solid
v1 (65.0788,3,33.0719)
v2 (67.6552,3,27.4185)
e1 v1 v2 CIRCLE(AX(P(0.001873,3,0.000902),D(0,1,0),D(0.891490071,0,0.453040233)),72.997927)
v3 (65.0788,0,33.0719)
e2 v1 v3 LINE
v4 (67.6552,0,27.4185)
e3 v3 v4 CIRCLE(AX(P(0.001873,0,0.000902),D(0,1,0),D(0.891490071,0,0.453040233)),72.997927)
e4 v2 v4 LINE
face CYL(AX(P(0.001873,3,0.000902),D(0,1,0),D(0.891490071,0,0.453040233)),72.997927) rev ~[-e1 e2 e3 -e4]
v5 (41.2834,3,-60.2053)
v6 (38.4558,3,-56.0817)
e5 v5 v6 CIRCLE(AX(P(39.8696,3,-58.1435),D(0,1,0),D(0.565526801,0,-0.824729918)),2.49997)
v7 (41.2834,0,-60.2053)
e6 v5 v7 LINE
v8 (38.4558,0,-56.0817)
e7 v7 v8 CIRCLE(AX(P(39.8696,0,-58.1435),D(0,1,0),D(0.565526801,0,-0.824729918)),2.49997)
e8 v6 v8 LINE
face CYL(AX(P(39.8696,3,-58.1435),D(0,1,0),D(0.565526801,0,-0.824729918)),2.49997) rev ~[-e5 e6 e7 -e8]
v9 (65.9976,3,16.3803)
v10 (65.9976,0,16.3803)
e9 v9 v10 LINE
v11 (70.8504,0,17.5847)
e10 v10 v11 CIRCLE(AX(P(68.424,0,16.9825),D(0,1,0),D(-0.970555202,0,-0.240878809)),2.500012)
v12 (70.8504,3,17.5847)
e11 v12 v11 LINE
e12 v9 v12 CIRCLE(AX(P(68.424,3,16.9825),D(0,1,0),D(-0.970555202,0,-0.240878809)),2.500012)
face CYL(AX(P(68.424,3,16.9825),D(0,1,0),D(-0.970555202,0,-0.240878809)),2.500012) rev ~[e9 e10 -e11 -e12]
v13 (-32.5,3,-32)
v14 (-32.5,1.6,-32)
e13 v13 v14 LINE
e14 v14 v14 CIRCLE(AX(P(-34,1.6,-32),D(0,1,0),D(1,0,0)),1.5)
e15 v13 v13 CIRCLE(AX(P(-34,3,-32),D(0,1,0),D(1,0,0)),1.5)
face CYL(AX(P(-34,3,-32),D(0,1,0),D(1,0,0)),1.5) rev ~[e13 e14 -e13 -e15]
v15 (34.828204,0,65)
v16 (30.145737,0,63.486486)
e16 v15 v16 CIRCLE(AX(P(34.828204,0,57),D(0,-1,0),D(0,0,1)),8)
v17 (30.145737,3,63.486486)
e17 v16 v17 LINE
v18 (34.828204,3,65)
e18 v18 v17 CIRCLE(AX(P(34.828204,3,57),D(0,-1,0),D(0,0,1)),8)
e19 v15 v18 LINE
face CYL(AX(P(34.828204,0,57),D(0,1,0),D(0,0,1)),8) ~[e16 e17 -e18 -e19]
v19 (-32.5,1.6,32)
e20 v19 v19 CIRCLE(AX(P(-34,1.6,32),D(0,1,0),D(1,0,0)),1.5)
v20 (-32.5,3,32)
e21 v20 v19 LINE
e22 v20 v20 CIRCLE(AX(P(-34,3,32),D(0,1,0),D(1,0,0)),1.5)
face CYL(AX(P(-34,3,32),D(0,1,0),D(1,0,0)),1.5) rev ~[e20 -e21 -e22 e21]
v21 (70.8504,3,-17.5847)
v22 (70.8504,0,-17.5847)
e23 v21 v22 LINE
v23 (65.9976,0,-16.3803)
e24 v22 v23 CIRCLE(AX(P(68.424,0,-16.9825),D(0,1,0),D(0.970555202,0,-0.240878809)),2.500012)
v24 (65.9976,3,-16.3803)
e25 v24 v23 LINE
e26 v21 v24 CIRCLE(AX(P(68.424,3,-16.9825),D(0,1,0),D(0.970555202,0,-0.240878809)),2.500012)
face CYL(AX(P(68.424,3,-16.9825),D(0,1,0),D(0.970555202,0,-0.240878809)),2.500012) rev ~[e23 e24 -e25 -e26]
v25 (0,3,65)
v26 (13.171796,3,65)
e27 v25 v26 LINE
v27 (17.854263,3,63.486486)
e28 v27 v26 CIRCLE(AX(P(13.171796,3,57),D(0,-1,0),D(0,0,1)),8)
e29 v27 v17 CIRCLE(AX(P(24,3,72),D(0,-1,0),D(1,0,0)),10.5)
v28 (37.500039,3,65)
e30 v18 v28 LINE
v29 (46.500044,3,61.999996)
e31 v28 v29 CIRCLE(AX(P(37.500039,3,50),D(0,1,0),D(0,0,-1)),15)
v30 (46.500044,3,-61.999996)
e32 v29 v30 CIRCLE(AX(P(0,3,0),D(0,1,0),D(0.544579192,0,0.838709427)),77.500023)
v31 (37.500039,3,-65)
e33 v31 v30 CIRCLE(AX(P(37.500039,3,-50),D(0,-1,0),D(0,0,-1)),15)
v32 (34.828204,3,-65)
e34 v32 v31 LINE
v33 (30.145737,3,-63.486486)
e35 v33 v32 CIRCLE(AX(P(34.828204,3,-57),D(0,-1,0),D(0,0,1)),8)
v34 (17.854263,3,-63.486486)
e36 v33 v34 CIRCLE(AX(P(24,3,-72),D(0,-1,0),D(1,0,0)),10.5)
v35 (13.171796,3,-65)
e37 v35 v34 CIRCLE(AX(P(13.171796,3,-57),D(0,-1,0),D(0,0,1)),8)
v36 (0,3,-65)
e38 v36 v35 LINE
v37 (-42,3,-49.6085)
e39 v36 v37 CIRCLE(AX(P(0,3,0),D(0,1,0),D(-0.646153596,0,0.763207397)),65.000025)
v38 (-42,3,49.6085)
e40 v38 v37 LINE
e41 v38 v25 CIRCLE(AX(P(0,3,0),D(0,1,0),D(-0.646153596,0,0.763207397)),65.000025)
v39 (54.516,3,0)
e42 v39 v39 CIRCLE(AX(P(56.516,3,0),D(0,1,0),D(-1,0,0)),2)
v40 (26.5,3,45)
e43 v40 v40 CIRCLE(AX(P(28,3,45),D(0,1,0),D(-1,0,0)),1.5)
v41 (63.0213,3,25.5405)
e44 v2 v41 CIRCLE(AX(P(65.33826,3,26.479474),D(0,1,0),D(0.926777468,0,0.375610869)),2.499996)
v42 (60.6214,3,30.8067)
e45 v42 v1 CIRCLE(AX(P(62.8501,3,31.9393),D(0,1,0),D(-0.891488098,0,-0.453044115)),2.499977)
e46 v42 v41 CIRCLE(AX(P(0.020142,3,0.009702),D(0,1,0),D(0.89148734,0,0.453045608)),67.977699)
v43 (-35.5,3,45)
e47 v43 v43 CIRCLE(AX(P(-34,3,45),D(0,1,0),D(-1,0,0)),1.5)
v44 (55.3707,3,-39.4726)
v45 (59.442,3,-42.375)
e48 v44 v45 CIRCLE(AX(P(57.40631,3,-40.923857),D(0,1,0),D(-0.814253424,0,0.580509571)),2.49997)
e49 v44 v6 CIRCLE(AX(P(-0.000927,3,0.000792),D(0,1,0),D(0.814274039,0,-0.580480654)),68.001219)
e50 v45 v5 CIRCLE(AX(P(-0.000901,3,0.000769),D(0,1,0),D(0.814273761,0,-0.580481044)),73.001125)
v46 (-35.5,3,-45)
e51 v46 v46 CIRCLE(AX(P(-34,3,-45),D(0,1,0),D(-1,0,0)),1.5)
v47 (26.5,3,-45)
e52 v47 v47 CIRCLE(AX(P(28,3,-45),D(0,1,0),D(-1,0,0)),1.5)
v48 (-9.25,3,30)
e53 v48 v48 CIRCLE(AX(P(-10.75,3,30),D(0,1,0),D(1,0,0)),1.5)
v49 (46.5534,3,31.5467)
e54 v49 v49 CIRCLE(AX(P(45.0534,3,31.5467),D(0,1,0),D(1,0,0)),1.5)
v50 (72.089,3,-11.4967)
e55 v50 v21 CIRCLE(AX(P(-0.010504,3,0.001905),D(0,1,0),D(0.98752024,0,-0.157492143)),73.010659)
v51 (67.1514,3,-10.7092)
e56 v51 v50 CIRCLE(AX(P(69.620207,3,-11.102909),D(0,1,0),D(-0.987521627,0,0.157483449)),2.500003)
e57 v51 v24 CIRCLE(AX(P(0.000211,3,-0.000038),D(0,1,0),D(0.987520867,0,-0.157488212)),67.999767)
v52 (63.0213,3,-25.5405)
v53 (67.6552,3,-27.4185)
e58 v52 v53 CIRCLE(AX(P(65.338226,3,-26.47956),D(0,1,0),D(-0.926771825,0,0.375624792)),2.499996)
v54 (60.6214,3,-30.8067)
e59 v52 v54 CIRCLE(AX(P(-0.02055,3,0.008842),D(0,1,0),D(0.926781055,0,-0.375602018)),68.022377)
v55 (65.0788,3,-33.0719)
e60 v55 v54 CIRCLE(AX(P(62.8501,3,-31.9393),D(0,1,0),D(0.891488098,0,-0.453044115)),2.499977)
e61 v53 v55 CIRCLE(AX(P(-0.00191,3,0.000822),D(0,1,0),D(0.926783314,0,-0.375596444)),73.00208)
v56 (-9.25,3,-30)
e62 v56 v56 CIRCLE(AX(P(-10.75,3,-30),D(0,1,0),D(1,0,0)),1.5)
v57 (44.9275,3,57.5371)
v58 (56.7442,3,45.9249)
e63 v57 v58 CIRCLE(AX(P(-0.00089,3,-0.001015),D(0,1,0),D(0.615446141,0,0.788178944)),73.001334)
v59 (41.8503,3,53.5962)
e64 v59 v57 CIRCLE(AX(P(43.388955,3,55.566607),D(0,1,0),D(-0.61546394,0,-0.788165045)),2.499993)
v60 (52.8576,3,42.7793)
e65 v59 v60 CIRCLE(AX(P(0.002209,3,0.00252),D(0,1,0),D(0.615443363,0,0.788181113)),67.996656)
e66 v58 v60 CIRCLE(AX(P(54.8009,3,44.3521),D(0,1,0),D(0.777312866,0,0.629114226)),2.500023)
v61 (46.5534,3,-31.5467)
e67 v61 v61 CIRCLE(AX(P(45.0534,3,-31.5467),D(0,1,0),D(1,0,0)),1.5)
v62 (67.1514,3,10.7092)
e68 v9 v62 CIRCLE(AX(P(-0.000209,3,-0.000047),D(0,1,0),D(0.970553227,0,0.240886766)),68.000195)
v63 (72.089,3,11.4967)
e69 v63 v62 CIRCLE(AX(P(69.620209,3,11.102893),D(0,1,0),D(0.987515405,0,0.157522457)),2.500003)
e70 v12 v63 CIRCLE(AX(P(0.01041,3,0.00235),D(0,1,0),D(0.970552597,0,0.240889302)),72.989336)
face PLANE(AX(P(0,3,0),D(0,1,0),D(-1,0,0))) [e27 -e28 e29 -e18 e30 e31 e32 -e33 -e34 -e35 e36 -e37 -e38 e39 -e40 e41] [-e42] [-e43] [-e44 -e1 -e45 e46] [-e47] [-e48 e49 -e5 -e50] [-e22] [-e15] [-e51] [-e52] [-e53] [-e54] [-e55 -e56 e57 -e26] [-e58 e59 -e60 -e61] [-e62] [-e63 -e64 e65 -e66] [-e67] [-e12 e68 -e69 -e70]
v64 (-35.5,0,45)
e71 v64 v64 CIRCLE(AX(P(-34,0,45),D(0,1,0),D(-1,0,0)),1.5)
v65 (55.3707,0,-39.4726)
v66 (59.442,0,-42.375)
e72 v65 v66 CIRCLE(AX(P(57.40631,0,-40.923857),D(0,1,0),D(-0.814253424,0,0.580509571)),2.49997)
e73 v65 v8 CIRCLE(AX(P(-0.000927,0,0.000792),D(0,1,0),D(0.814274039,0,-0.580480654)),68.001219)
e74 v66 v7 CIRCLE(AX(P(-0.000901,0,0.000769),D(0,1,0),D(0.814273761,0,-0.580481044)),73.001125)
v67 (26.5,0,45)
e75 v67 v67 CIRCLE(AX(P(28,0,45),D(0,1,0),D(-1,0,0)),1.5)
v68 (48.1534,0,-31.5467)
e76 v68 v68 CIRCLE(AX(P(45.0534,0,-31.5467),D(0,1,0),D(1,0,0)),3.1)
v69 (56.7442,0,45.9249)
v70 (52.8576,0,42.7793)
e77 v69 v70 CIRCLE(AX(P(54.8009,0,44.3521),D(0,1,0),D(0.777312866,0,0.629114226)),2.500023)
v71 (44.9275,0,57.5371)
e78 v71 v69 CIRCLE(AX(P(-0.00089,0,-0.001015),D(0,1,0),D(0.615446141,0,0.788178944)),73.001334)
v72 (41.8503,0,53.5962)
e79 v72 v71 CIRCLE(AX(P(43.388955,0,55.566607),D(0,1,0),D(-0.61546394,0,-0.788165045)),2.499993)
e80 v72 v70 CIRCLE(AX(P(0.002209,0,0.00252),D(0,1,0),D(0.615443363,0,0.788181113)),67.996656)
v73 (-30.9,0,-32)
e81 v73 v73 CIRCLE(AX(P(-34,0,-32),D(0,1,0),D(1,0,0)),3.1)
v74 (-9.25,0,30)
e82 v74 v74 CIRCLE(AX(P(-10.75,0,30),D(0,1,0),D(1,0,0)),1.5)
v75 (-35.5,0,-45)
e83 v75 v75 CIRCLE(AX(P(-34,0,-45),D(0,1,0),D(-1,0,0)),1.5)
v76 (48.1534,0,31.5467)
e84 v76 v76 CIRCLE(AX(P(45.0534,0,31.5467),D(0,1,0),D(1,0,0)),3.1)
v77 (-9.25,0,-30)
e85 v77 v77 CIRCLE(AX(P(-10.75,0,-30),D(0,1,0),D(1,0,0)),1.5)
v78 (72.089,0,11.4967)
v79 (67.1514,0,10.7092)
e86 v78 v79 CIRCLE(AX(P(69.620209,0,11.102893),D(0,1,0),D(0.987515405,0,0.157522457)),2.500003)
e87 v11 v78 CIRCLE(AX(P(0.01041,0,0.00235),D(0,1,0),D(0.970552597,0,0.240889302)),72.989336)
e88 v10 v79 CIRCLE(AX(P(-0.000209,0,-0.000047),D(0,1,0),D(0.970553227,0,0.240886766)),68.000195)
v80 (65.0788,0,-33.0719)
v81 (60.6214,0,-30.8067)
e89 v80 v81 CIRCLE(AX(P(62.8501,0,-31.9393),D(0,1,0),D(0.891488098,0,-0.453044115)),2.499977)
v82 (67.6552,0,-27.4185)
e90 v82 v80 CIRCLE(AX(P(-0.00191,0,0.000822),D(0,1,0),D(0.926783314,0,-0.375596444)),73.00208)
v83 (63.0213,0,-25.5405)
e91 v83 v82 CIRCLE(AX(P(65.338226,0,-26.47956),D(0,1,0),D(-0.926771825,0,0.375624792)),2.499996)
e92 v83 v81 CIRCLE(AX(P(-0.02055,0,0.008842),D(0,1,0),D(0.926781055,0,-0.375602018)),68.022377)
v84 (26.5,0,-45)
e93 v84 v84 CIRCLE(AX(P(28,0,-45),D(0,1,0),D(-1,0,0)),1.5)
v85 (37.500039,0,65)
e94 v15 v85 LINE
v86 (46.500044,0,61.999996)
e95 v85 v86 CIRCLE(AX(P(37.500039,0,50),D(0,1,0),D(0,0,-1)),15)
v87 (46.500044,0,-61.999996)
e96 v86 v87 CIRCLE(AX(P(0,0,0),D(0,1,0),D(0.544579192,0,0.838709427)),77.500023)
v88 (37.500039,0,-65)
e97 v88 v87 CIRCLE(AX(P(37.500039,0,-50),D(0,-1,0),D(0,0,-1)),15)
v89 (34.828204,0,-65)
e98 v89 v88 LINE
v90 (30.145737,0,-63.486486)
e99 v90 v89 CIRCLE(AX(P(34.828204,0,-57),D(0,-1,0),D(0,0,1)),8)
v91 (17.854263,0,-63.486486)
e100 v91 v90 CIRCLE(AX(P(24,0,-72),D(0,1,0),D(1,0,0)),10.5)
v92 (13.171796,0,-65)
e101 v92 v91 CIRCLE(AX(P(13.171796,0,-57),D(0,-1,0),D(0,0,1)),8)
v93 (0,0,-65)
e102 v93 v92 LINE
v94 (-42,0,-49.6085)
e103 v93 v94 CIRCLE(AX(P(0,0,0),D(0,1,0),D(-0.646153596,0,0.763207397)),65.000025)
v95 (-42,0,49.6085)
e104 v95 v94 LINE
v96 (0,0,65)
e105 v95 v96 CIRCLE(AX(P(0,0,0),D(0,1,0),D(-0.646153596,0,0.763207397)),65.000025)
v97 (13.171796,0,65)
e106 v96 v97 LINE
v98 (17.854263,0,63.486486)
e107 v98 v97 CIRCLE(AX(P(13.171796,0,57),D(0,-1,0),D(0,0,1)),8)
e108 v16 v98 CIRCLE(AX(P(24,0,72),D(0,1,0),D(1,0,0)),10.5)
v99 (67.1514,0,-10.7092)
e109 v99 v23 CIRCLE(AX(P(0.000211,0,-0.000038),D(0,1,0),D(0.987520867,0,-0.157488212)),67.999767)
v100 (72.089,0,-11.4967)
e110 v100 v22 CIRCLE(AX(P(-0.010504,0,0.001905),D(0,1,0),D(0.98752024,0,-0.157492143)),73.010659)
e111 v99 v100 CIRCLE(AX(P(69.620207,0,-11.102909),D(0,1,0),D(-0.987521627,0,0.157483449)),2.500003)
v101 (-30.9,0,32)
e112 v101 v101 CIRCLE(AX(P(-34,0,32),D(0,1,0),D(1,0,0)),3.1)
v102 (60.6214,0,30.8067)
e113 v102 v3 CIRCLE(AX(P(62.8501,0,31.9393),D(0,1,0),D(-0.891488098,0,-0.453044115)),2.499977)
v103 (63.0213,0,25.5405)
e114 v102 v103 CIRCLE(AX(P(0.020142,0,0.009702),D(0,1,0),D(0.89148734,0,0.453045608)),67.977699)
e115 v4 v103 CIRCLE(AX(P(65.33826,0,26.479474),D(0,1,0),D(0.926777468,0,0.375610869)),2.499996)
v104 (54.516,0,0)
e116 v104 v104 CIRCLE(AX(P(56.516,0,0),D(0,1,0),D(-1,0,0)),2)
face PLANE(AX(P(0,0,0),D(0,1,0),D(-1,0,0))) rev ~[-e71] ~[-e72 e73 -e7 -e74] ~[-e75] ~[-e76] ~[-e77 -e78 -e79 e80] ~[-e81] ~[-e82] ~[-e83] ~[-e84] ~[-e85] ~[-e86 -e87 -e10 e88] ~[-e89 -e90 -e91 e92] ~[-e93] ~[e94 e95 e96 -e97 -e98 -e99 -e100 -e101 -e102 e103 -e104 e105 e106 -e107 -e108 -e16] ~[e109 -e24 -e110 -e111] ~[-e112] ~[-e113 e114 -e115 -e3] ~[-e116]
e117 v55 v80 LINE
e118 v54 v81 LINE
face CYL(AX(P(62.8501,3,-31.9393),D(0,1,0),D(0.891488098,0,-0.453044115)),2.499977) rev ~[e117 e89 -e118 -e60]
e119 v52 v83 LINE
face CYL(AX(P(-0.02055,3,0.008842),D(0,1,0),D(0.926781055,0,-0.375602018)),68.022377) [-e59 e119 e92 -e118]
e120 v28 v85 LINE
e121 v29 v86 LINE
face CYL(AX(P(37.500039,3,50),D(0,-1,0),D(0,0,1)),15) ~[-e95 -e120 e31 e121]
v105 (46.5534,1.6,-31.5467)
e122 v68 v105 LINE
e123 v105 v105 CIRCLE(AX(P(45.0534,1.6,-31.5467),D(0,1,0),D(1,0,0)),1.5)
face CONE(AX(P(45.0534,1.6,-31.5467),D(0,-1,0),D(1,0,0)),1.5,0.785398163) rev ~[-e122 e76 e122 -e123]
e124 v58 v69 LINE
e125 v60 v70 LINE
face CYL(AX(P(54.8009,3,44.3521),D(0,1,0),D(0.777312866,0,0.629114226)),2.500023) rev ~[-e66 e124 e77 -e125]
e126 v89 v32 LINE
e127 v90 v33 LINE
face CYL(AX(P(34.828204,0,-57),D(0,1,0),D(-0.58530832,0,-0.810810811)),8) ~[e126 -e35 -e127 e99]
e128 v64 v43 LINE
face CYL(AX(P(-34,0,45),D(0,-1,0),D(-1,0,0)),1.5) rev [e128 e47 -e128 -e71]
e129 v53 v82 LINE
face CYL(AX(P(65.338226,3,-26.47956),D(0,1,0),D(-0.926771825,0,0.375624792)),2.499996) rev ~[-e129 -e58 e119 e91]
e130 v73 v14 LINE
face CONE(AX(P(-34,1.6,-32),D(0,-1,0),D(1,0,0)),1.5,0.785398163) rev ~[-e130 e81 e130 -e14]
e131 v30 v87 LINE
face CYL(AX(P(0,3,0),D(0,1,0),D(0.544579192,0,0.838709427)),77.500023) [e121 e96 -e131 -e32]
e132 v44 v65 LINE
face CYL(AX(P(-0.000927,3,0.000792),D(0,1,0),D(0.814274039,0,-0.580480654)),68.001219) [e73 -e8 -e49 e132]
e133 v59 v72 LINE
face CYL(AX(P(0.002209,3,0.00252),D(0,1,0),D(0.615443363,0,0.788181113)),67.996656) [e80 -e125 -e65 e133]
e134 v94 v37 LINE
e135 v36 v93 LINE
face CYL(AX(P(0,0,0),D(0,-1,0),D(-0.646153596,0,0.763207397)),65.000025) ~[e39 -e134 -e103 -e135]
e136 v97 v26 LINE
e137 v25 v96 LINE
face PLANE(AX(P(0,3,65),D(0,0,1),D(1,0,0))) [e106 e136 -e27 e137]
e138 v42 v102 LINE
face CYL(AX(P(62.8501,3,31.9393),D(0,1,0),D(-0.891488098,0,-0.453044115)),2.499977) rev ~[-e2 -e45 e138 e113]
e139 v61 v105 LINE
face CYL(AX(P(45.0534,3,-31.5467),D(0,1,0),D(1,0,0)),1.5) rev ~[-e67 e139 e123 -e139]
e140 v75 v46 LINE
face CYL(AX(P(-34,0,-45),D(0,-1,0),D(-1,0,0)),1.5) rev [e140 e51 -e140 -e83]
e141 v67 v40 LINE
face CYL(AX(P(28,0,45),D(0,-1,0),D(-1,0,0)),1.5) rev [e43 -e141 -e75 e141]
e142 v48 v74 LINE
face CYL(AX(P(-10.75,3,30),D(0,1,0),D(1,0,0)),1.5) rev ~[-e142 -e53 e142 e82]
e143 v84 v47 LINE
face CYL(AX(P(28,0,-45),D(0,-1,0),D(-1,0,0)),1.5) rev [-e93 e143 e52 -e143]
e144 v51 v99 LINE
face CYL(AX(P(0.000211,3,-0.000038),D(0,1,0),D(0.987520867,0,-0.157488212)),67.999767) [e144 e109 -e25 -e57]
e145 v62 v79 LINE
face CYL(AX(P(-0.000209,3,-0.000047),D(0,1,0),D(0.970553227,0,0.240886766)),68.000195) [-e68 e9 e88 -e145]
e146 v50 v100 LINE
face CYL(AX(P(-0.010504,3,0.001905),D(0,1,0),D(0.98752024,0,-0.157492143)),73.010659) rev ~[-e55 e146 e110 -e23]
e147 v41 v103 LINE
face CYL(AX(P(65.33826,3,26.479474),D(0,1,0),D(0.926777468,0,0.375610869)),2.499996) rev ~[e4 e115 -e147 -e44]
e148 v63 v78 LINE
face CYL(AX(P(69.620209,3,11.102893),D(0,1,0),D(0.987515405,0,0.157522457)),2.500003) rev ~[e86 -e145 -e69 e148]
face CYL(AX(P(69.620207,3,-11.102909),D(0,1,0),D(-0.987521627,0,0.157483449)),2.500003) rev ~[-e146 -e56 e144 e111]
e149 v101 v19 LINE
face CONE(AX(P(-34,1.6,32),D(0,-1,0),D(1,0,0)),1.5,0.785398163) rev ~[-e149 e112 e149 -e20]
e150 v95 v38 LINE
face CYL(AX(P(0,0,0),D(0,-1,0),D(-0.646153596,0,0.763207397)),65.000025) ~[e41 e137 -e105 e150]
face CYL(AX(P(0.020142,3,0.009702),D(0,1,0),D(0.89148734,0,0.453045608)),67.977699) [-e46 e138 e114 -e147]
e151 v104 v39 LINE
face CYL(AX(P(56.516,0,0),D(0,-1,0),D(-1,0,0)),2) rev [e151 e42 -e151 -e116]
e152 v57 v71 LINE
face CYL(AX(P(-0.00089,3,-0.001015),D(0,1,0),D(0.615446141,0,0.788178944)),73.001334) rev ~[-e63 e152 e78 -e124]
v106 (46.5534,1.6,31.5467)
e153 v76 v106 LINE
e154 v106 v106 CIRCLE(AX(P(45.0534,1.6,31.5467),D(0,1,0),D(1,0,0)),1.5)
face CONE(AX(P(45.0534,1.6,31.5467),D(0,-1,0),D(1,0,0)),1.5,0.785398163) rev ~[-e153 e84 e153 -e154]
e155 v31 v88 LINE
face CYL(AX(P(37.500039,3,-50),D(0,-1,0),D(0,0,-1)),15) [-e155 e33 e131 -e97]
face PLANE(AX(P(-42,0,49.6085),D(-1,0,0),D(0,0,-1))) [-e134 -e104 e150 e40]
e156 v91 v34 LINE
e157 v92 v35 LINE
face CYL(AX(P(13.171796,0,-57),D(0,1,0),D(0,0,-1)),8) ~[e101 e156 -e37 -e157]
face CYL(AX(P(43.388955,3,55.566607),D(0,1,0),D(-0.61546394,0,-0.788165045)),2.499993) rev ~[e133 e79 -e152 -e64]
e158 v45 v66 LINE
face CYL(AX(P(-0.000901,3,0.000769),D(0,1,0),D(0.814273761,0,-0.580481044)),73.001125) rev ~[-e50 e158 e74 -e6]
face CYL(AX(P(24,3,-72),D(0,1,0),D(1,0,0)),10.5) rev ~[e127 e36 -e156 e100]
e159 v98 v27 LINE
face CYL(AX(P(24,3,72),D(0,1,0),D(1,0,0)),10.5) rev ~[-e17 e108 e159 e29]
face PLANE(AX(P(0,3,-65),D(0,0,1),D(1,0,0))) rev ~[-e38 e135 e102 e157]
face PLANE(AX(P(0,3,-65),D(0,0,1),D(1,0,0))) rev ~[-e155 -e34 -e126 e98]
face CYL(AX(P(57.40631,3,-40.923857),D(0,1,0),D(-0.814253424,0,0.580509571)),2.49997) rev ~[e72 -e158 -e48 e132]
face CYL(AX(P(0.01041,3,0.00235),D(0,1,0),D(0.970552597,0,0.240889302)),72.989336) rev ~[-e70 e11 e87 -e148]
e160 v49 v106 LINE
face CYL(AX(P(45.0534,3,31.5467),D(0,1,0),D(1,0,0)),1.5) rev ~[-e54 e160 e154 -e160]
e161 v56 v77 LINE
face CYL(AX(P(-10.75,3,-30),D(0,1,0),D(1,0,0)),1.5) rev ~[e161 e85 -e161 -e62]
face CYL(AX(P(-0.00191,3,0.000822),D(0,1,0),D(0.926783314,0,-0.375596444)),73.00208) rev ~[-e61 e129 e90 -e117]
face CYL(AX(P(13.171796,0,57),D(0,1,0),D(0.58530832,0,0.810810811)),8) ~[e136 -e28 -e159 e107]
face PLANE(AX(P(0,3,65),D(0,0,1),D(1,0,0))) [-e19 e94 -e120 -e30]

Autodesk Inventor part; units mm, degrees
ref_plane "YZ Plane" through (0, 0, 0) normal (1, 0, 0) x (0, 1, 0)
ref_plane "XZ Plane" through (0, 0, 0) normal (0, 1, 0) x (-1, 0, 0)
ref_plane "XY Plane" through (0, 0, 0) normal (0, 0, 1) x (1, 0, 0)
sketch "Эскиз1" plane through (0, 0, 0) normal (0, 1, 0) x (-1, 0, 0)
  arc A0 (42, 49.6085) -> (42, -49.6085) centre (0, 0) ccw
  line L0 (42, 49.6085) -> (42, -49.6085)
  arc A1 (42, -49.6085) -> (42, 49.6085) centre (0, 0) ccw construction
  line L1 (34, 55.3986) -> (34, -55.3986) construction
  circle A2 centre (34, 45) radius 1.5
  circle A3 centre (34, -45) radius 1.5
  line L2 (-28, 58.66) -> (-28, -58.66) construction
  line L3 (0, 0) -> (-28, -55) construction
  line L4 (0, 0) -> (-56.516, 0) construction
  circle A4 centre (-56.516, 0) radius 2
  circle A5 centre (-28, 45) radius 1.5
  circle A6 centre (-28, -45) radius 1.5
  dimension "d0" = 130
  dimension "d1" = 42
  dimension "d4" = 8
  dimension "d5" = 3
  dimension "d6" = 3
  dimension "d7" = 45
  dimension "d8" = 45
  dimension "d9" = 70
  dimension "d12" = 55
  dimension "d16" = 61.7171
  dimension "d18" = 4
  dimension "d20" = 3
  dimension "d21" = 45
  dimension "d22" = 3
  dimension "d38" = 56.516
extrude "Выдавливание1" add sketch "Эскиз1" along normal blind 3
sketch "Эскиз2" plane through (0, 3, 0) normal (0, 1, 0) x (1, 0, 0)
  circle A0 centre (-34, -45) radius 1.5 projected
  circle A1 centre (-34, 45) radius 1.5 projected
  line L0 (-34, -45) -> (-34, 45) construction
  circle A2 centre (0, 0) radius 55 construction
  line L1 (0, 0) -> (0, -55) construction
  line L2 (0, 0) -> (45.0534, -31.5467) construction
  circle A3 centre (45.0534, -31.5467) radius 1.5
  circle A4 centre (56.516, 0) radius 2 projected
  line L3 (0, 0) -> (56.516, 0) construction
  circle A5 centre (45.0534, 31.5467) radius 1.5
  circle A6 centre (-34, -32) radius 1.5
  circle A7 centre (-34, 32) radius 1.5
  line L4 (-42, 49.6085) -> (-42, -49.6085) projected
  point P0 (-42, 0)
  point P1 (-34, 0)
  dimension "d25" = 110
  dimension "d26" = 55
  dimension "d28" = 3
  dimension "d34" = 3
  dimension "d35" = 3
  dimension "d36" = 32
  dimension "d37" = 32
extrude "Выдавливание2" cut sketch "Эскиз2" against normal blind 10 contours A3 | A5 | A6 | A7
chamfer "Фаска1" distance 1.6 angle 45 4 edges at (43.5534, 0, 31.5467) (43.5534, 0, -31.5467) (-35.5, 0, -32) (-35.5, 0, 32)
sketch "Эскиз3" plane through (0, 3, 0) normal (0, 1, 0) x (1, 0, 0)
  circle A0 centre (-34, -45) radius 1.5 projected
  circle A1 centre (-34, 45) radius 1.5 projected
  line L0 (-34, -45) -> (-34, 45) construction
  line L1 (-34, 45) -> (12.5, 45) construction
  line L2 (-10.75, 45) -> (-10.75, -55.9117) construction
  circle A2 centre (-10.75, -30) radius 1.5
  circle A3 centre (-10.75, 30) radius 1.5
  point P0 (0, 0)
  dimension "d39" = 46.5
  dimension "d40" = 3
  dimension "d41" = 3
  dimension "d42" = 30
  dimension "d43" = 30
extrude "Выдавливание3" cut sketch "Эскиз3" against normal blind 10 contours A2 | A3
sketch "Эскиз4" plane through (0, 3, 0) normal (0, 1, 0) x (1, 0, 0)
  arc A0 (42.2049, -65) -> (42.2049, 65) centre (0, 0) ccw
  arc A1 (-42, -49.6085) -> (-42, 49.6085) centre (0, 0) ccw projected
  line L0 (0, -65) -> (42.2049, -65)
  line L1 (0, 65) -> (42.2049, 65)
  arc A2 (42.2049, 65) -> (42.2049, -65) centre (0, 0) ccw construction
  line L2 (0, 0) -> (65, 0) construction
  line L3 (0, 0) -> (75.9442, -15.451) construction
  line L4 (0, 0) -> (70.522, -32.1387) construction
  line L5 (0, 0) -> (54.3205, -55.2769) construction
  line L6 (0, 0) -> (57.5937, 51.8576) construction
  line L7 (0, 0) -> (41.0687, 65.7237) construction
  circle A3 centre (0, 0) radius 70.5 construction
  arc A4 (43.3889, -55.5666) -> (54.8009, -44.3521) centre (0, 0) ccw construction
  arc A5 (44.9275, -57.5371) -> (56.7442, -45.9249) centre (0, 0) ccw
  arc A6 (41.8503, -53.5962) -> (52.8576, -42.7793) centre (0, 0) ccw
  arc A7 (41.8503, -53.5962) -> (44.9275, -57.5371) centre (43.3889, -55.5666) ccw
  arc A8 (56.7442, -45.9249) -> (52.8576, -42.7793) centre (54.8009, -44.3521) ccw
  arc A9 (62.8501, -31.9393) -> (65.3382, -26.4795) centre (0, 0) ccw construction
  arc A10 (65.0788, -33.0719) -> (67.6552, -27.4185) centre (0, 0) ccw
  arc A11 (60.6214, -30.8067) -> (63.0213, -25.5405) centre (0, 0) ccw
  arc A12 (60.6214, -30.8067) -> (65.0788, -33.0719) centre (62.8501, -31.9393) ccw
  arc A13 (67.6552, -27.4185) -> (63.0213, -25.5405) centre (65.3382, -26.4795) ccw
  arc A14 (68.424, -16.9825) -> (69.6202, -11.1029) centre (0, 0) ccw construction
  arc A15 (70.8504, -17.5847) -> (72.089, -11.4967) centre (0, 0) ccw
  arc A16 (65.9976, -16.3803) -> (67.1514, -10.7092) centre (0, 0) ccw
  arc A17 (65.9976, -16.3803) -> (70.8504, -17.5847) centre (68.424, -16.9825) ccw
  arc A18 (72.089, -11.4967) -> (67.1514, -10.7092) centre (69.6202, -11.1029) ccw
  arc A19 (57.4063, 40.9238) -> (39.8696, 58.1435) centre (0, 0) ccw construction
  arc A20 (59.442, 42.375) -> (41.2834, 60.2053) centre (0, 0) ccw
  arc A21 (55.3707, 39.4726) -> (38.4558, 56.0817) centre (0, 0) ccw
  arc A22 (55.3707, 39.4726) -> (59.442, 42.375) centre (57.4063, 40.9238) ccw
  arc A23 (41.2834, 60.2053) -> (38.4558, 56.0817) centre (39.8696, 58.1435) ccw
  line L8 (0, 0) -> (75.9442, 15.451) construction
  line L9 (0, 0) -> (70.522, 32.1387) construction
  arc A24 (65.3382, 26.4795) -> (62.8501, 31.9393) centre (0, 0) ccw construction
  arc A25 (67.6552, 27.4185) -> (65.0788, 33.0719) centre (0, 0) ccw
  arc A26 (63.0213, 25.5405) -> (60.6214, 30.8067) centre (0, 0) ccw
  arc A27 (65.0788, 33.0719) -> (60.6214, 30.8067) centre (62.8501, 31.9393) ccw
  arc A28 (63.0213, 25.5405) -> (67.6552, 27.4185) centre (65.3382, 26.4795) ccw
  arc A29 (69.6202, 11.1029) -> (68.424, 16.9825) centre (0, 0) ccw construction
  arc A30 (72.089, 11.4967) -> (70.8504, 17.5847) centre (0, 0) ccw
  arc A31 (67.1514, 10.7092) -> (65.9976, 16.3803) centre (0, 0) ccw
  arc A32 (70.8504, 17.5847) -> (65.9976, 16.3803) centre (68.424, 16.9825) ccw
  arc A33 (67.1514, 10.7092) -> (72.089, 11.4967) centre (69.6202, 11.1029) ccw
  point P0 (21.1024, -65)
  dimension "d46" = 155
  dimension "d53" = 11.5
  dimension "d54" = 24.5
  dimension "d55" = 45.5
  dimension "d56" = 42
  dimension "d57" = 58
  dimension "d58" = 65
  dimension "d60" = 65
  dimension "d61" = 141
  dimension "d62" = 5
  dimension "d63" = 5
  dimension "d64" = 5
  dimension "d65" = 8
  dimension "d66" = 3
  dimension "d67" = 3
  dimension "d68" = 3
  dimension "d69" = 3
  dimension "d70" = 2.5
  dimension "d71" = 8
  dimension "d72" = 8
  dimension "d73" = 3
extrude "Выдавливание4" add sketch "Эскиз4" against normal blind 3
fillet "Сопряжение2" radius 15 2 edges at (42.2049, 1.5, 65) (42.2049, 1.5, -65)
sketch "Эскиз5" plane through (0, 3, 0) normal (0, 1, 0) x (1, 0, 0)
  line L0 (24, -72) -> (24, 72) construction
  arc A0 (41.8503, -53.5962) -> (52.8576, -42.7793) centre (0, 0) ccw projected
  arc A1 (56.7442, -45.9249) -> (52.8576, -42.7793) centre (54.8009, -44.3521) ccw projected
  arc A2 (44.9275, -57.5371) -> (56.7442, -45.9249) centre (0, 0) ccw projected
  arc A3 (41.8503, -53.5962) -> (44.9275, -57.5371) centre (43.3889, -55.5666) ccw projected
  arc A4 (60.6214, -30.8067) -> (63.0213, -25.5405) centre (0, 0) ccw projected
  arc A5 (67.6552, -27.4185) -> (63.0213, -25.5405) centre (65.3382, -26.4795) ccw projected
  arc A6 (65.0788, -33.0719) -> (67.6552, -27.4185) centre (0, 0) ccw projected
  arc A7 (60.6214, -30.8067) -> (65.0788, -33.0719) centre (62.8501, -31.9393) ccw projected
  arc A8 (65.9976, -16.3803) -> (67.1514, -10.7092) centre (0, 0) ccw projected
  arc A9 (72.089, -11.4967) -> (67.1514, -10.7092) centre (69.6202, -11.1029) ccw projected
  arc A10 (70.8504, -17.5847) -> (72.089, -11.4967) centre (0, 0) ccw projected
  arc A11 (65.9976, -16.3803) -> (70.8504, -17.5847) centre (68.424, -16.9825) ccw projected
  arc A12 (55.3707, 39.4726) -> (38.4558, 56.0817) centre (0, 0) ccw projected
  arc A13 (41.2834, 60.2053) -> (38.4558, 56.0817) centre (39.8696, 58.1435) ccw projected
  arc A14 (59.442, 42.375) -> (41.2834, 60.2053) centre (0, 0) ccw projected
  arc A15 (55.3707, 39.4726) -> (59.442, 42.375) centre (57.4063, 40.9238) ccw projected
  arc A16 (67.1514, 10.7092) -> (65.9976, 16.3803) centre (0, 0) ccw projected
  arc A17 (70.8504, 17.5847) -> (65.9976, 16.3803) centre (68.424, 16.9825) ccw projected
  arc A18 (72.089, 11.4967) -> (70.8504, 17.5847) centre (0, 0) ccw projected
  arc A19 (67.1514, 10.7092) -> (72.089, 11.4967) centre (69.6202, 11.1029) ccw projected
  arc A20 (63.0213, 25.5405) -> (67.6552, 27.4185) centre (65.3382, 26.4795) ccw projected
  arc A21 (63.0213, 25.5405) -> (60.6214, 30.8067) centre (0, 0) ccw projected
  arc A22 (65.0788, 33.0719) -> (60.6214, 30.8067) centre (62.8501, 31.9393) ccw projected
  arc A23 (67.6552, 27.4185) -> (65.0788, 33.0719) centre (0, 0) ccw projected
  circle A24 centre (-10.75, 30) radius 1.5 projected
  circle A25 centre (-10.75, -30) radius 1.5 projected
  circle A26 centre (45.0534, 31.5467) radius 1.5 projected
  circle A27 centre (-34, 32) radius 1.5 projected
  circle A28 centre (45.0534, -31.5467) radius 1.5 projected
  circle A29 centre (-34, -32) radius 1.5 projected
  arc A30 (46.5, 62) -> (37.5, 65) centre (37.5, 50) ccw projected
  line L1 (37.5, 65) -> (0, 65) projected
  arc A31 (0, 65) -> (-42, 49.6085) centre (0, 0) ccw projected
  line L2 (-42, 49.6085) -> (-42, -49.6085) projected
  arc A32 (-42, -49.6085) -> (0, -65) centre (0, 0) ccw projected
  line L3 (0, -65) -> (37.5, -65) projected
  arc A33 (37.5, -65) -> (46.5, -62) centre (37.5, -50) ccw projected
  arc A34 (46.5, -62) -> (46.5, 62) centre (0, 0) ccw projected
  circle A35 centre (28, 45) radius 1.5 projected
  circle A36 centre (28, -45) radius 1.5 projected
  circle A37 centre (56.516, 0) radius 2 projected
  circle A38 centre (-34, 45) radius 1.5 projected
  circle A39 centre (-34, -45) radius 1.5 projected
  arc A40 (46.5, -62) -> (46.5, 62) centre (0, 0) ccw projected
  arc A41 (-42, -49.6085) -> (0, -65) centre (0, 0) ccw projected
  circle A42 centre (24, -72) radius 10.5
  circle A43 centre (24, 72) radius 10.5
  dimension "d74" = 72
  dimension "d75" = 72
  dimension "d76" = 32.516
  dimension "d77" = 21
  dimension "d78" = 21
extrude "Выдавливание5" cut sketch "Эскиз5" against normal blind 3 contours A43 L1 | L1 A43 | A42 L3 | L3 A42
fillet "Сопряжение3" radius 8 4 edges at (31.8262, 1.5, 65) (16.1738, 1.5, 65) (16.1738, 1.5, -65) (31.8262, 1.5, -65)
equation "\"d60\" = d58"
equation "\"d67\" = d66"
properties part number "V_3"
